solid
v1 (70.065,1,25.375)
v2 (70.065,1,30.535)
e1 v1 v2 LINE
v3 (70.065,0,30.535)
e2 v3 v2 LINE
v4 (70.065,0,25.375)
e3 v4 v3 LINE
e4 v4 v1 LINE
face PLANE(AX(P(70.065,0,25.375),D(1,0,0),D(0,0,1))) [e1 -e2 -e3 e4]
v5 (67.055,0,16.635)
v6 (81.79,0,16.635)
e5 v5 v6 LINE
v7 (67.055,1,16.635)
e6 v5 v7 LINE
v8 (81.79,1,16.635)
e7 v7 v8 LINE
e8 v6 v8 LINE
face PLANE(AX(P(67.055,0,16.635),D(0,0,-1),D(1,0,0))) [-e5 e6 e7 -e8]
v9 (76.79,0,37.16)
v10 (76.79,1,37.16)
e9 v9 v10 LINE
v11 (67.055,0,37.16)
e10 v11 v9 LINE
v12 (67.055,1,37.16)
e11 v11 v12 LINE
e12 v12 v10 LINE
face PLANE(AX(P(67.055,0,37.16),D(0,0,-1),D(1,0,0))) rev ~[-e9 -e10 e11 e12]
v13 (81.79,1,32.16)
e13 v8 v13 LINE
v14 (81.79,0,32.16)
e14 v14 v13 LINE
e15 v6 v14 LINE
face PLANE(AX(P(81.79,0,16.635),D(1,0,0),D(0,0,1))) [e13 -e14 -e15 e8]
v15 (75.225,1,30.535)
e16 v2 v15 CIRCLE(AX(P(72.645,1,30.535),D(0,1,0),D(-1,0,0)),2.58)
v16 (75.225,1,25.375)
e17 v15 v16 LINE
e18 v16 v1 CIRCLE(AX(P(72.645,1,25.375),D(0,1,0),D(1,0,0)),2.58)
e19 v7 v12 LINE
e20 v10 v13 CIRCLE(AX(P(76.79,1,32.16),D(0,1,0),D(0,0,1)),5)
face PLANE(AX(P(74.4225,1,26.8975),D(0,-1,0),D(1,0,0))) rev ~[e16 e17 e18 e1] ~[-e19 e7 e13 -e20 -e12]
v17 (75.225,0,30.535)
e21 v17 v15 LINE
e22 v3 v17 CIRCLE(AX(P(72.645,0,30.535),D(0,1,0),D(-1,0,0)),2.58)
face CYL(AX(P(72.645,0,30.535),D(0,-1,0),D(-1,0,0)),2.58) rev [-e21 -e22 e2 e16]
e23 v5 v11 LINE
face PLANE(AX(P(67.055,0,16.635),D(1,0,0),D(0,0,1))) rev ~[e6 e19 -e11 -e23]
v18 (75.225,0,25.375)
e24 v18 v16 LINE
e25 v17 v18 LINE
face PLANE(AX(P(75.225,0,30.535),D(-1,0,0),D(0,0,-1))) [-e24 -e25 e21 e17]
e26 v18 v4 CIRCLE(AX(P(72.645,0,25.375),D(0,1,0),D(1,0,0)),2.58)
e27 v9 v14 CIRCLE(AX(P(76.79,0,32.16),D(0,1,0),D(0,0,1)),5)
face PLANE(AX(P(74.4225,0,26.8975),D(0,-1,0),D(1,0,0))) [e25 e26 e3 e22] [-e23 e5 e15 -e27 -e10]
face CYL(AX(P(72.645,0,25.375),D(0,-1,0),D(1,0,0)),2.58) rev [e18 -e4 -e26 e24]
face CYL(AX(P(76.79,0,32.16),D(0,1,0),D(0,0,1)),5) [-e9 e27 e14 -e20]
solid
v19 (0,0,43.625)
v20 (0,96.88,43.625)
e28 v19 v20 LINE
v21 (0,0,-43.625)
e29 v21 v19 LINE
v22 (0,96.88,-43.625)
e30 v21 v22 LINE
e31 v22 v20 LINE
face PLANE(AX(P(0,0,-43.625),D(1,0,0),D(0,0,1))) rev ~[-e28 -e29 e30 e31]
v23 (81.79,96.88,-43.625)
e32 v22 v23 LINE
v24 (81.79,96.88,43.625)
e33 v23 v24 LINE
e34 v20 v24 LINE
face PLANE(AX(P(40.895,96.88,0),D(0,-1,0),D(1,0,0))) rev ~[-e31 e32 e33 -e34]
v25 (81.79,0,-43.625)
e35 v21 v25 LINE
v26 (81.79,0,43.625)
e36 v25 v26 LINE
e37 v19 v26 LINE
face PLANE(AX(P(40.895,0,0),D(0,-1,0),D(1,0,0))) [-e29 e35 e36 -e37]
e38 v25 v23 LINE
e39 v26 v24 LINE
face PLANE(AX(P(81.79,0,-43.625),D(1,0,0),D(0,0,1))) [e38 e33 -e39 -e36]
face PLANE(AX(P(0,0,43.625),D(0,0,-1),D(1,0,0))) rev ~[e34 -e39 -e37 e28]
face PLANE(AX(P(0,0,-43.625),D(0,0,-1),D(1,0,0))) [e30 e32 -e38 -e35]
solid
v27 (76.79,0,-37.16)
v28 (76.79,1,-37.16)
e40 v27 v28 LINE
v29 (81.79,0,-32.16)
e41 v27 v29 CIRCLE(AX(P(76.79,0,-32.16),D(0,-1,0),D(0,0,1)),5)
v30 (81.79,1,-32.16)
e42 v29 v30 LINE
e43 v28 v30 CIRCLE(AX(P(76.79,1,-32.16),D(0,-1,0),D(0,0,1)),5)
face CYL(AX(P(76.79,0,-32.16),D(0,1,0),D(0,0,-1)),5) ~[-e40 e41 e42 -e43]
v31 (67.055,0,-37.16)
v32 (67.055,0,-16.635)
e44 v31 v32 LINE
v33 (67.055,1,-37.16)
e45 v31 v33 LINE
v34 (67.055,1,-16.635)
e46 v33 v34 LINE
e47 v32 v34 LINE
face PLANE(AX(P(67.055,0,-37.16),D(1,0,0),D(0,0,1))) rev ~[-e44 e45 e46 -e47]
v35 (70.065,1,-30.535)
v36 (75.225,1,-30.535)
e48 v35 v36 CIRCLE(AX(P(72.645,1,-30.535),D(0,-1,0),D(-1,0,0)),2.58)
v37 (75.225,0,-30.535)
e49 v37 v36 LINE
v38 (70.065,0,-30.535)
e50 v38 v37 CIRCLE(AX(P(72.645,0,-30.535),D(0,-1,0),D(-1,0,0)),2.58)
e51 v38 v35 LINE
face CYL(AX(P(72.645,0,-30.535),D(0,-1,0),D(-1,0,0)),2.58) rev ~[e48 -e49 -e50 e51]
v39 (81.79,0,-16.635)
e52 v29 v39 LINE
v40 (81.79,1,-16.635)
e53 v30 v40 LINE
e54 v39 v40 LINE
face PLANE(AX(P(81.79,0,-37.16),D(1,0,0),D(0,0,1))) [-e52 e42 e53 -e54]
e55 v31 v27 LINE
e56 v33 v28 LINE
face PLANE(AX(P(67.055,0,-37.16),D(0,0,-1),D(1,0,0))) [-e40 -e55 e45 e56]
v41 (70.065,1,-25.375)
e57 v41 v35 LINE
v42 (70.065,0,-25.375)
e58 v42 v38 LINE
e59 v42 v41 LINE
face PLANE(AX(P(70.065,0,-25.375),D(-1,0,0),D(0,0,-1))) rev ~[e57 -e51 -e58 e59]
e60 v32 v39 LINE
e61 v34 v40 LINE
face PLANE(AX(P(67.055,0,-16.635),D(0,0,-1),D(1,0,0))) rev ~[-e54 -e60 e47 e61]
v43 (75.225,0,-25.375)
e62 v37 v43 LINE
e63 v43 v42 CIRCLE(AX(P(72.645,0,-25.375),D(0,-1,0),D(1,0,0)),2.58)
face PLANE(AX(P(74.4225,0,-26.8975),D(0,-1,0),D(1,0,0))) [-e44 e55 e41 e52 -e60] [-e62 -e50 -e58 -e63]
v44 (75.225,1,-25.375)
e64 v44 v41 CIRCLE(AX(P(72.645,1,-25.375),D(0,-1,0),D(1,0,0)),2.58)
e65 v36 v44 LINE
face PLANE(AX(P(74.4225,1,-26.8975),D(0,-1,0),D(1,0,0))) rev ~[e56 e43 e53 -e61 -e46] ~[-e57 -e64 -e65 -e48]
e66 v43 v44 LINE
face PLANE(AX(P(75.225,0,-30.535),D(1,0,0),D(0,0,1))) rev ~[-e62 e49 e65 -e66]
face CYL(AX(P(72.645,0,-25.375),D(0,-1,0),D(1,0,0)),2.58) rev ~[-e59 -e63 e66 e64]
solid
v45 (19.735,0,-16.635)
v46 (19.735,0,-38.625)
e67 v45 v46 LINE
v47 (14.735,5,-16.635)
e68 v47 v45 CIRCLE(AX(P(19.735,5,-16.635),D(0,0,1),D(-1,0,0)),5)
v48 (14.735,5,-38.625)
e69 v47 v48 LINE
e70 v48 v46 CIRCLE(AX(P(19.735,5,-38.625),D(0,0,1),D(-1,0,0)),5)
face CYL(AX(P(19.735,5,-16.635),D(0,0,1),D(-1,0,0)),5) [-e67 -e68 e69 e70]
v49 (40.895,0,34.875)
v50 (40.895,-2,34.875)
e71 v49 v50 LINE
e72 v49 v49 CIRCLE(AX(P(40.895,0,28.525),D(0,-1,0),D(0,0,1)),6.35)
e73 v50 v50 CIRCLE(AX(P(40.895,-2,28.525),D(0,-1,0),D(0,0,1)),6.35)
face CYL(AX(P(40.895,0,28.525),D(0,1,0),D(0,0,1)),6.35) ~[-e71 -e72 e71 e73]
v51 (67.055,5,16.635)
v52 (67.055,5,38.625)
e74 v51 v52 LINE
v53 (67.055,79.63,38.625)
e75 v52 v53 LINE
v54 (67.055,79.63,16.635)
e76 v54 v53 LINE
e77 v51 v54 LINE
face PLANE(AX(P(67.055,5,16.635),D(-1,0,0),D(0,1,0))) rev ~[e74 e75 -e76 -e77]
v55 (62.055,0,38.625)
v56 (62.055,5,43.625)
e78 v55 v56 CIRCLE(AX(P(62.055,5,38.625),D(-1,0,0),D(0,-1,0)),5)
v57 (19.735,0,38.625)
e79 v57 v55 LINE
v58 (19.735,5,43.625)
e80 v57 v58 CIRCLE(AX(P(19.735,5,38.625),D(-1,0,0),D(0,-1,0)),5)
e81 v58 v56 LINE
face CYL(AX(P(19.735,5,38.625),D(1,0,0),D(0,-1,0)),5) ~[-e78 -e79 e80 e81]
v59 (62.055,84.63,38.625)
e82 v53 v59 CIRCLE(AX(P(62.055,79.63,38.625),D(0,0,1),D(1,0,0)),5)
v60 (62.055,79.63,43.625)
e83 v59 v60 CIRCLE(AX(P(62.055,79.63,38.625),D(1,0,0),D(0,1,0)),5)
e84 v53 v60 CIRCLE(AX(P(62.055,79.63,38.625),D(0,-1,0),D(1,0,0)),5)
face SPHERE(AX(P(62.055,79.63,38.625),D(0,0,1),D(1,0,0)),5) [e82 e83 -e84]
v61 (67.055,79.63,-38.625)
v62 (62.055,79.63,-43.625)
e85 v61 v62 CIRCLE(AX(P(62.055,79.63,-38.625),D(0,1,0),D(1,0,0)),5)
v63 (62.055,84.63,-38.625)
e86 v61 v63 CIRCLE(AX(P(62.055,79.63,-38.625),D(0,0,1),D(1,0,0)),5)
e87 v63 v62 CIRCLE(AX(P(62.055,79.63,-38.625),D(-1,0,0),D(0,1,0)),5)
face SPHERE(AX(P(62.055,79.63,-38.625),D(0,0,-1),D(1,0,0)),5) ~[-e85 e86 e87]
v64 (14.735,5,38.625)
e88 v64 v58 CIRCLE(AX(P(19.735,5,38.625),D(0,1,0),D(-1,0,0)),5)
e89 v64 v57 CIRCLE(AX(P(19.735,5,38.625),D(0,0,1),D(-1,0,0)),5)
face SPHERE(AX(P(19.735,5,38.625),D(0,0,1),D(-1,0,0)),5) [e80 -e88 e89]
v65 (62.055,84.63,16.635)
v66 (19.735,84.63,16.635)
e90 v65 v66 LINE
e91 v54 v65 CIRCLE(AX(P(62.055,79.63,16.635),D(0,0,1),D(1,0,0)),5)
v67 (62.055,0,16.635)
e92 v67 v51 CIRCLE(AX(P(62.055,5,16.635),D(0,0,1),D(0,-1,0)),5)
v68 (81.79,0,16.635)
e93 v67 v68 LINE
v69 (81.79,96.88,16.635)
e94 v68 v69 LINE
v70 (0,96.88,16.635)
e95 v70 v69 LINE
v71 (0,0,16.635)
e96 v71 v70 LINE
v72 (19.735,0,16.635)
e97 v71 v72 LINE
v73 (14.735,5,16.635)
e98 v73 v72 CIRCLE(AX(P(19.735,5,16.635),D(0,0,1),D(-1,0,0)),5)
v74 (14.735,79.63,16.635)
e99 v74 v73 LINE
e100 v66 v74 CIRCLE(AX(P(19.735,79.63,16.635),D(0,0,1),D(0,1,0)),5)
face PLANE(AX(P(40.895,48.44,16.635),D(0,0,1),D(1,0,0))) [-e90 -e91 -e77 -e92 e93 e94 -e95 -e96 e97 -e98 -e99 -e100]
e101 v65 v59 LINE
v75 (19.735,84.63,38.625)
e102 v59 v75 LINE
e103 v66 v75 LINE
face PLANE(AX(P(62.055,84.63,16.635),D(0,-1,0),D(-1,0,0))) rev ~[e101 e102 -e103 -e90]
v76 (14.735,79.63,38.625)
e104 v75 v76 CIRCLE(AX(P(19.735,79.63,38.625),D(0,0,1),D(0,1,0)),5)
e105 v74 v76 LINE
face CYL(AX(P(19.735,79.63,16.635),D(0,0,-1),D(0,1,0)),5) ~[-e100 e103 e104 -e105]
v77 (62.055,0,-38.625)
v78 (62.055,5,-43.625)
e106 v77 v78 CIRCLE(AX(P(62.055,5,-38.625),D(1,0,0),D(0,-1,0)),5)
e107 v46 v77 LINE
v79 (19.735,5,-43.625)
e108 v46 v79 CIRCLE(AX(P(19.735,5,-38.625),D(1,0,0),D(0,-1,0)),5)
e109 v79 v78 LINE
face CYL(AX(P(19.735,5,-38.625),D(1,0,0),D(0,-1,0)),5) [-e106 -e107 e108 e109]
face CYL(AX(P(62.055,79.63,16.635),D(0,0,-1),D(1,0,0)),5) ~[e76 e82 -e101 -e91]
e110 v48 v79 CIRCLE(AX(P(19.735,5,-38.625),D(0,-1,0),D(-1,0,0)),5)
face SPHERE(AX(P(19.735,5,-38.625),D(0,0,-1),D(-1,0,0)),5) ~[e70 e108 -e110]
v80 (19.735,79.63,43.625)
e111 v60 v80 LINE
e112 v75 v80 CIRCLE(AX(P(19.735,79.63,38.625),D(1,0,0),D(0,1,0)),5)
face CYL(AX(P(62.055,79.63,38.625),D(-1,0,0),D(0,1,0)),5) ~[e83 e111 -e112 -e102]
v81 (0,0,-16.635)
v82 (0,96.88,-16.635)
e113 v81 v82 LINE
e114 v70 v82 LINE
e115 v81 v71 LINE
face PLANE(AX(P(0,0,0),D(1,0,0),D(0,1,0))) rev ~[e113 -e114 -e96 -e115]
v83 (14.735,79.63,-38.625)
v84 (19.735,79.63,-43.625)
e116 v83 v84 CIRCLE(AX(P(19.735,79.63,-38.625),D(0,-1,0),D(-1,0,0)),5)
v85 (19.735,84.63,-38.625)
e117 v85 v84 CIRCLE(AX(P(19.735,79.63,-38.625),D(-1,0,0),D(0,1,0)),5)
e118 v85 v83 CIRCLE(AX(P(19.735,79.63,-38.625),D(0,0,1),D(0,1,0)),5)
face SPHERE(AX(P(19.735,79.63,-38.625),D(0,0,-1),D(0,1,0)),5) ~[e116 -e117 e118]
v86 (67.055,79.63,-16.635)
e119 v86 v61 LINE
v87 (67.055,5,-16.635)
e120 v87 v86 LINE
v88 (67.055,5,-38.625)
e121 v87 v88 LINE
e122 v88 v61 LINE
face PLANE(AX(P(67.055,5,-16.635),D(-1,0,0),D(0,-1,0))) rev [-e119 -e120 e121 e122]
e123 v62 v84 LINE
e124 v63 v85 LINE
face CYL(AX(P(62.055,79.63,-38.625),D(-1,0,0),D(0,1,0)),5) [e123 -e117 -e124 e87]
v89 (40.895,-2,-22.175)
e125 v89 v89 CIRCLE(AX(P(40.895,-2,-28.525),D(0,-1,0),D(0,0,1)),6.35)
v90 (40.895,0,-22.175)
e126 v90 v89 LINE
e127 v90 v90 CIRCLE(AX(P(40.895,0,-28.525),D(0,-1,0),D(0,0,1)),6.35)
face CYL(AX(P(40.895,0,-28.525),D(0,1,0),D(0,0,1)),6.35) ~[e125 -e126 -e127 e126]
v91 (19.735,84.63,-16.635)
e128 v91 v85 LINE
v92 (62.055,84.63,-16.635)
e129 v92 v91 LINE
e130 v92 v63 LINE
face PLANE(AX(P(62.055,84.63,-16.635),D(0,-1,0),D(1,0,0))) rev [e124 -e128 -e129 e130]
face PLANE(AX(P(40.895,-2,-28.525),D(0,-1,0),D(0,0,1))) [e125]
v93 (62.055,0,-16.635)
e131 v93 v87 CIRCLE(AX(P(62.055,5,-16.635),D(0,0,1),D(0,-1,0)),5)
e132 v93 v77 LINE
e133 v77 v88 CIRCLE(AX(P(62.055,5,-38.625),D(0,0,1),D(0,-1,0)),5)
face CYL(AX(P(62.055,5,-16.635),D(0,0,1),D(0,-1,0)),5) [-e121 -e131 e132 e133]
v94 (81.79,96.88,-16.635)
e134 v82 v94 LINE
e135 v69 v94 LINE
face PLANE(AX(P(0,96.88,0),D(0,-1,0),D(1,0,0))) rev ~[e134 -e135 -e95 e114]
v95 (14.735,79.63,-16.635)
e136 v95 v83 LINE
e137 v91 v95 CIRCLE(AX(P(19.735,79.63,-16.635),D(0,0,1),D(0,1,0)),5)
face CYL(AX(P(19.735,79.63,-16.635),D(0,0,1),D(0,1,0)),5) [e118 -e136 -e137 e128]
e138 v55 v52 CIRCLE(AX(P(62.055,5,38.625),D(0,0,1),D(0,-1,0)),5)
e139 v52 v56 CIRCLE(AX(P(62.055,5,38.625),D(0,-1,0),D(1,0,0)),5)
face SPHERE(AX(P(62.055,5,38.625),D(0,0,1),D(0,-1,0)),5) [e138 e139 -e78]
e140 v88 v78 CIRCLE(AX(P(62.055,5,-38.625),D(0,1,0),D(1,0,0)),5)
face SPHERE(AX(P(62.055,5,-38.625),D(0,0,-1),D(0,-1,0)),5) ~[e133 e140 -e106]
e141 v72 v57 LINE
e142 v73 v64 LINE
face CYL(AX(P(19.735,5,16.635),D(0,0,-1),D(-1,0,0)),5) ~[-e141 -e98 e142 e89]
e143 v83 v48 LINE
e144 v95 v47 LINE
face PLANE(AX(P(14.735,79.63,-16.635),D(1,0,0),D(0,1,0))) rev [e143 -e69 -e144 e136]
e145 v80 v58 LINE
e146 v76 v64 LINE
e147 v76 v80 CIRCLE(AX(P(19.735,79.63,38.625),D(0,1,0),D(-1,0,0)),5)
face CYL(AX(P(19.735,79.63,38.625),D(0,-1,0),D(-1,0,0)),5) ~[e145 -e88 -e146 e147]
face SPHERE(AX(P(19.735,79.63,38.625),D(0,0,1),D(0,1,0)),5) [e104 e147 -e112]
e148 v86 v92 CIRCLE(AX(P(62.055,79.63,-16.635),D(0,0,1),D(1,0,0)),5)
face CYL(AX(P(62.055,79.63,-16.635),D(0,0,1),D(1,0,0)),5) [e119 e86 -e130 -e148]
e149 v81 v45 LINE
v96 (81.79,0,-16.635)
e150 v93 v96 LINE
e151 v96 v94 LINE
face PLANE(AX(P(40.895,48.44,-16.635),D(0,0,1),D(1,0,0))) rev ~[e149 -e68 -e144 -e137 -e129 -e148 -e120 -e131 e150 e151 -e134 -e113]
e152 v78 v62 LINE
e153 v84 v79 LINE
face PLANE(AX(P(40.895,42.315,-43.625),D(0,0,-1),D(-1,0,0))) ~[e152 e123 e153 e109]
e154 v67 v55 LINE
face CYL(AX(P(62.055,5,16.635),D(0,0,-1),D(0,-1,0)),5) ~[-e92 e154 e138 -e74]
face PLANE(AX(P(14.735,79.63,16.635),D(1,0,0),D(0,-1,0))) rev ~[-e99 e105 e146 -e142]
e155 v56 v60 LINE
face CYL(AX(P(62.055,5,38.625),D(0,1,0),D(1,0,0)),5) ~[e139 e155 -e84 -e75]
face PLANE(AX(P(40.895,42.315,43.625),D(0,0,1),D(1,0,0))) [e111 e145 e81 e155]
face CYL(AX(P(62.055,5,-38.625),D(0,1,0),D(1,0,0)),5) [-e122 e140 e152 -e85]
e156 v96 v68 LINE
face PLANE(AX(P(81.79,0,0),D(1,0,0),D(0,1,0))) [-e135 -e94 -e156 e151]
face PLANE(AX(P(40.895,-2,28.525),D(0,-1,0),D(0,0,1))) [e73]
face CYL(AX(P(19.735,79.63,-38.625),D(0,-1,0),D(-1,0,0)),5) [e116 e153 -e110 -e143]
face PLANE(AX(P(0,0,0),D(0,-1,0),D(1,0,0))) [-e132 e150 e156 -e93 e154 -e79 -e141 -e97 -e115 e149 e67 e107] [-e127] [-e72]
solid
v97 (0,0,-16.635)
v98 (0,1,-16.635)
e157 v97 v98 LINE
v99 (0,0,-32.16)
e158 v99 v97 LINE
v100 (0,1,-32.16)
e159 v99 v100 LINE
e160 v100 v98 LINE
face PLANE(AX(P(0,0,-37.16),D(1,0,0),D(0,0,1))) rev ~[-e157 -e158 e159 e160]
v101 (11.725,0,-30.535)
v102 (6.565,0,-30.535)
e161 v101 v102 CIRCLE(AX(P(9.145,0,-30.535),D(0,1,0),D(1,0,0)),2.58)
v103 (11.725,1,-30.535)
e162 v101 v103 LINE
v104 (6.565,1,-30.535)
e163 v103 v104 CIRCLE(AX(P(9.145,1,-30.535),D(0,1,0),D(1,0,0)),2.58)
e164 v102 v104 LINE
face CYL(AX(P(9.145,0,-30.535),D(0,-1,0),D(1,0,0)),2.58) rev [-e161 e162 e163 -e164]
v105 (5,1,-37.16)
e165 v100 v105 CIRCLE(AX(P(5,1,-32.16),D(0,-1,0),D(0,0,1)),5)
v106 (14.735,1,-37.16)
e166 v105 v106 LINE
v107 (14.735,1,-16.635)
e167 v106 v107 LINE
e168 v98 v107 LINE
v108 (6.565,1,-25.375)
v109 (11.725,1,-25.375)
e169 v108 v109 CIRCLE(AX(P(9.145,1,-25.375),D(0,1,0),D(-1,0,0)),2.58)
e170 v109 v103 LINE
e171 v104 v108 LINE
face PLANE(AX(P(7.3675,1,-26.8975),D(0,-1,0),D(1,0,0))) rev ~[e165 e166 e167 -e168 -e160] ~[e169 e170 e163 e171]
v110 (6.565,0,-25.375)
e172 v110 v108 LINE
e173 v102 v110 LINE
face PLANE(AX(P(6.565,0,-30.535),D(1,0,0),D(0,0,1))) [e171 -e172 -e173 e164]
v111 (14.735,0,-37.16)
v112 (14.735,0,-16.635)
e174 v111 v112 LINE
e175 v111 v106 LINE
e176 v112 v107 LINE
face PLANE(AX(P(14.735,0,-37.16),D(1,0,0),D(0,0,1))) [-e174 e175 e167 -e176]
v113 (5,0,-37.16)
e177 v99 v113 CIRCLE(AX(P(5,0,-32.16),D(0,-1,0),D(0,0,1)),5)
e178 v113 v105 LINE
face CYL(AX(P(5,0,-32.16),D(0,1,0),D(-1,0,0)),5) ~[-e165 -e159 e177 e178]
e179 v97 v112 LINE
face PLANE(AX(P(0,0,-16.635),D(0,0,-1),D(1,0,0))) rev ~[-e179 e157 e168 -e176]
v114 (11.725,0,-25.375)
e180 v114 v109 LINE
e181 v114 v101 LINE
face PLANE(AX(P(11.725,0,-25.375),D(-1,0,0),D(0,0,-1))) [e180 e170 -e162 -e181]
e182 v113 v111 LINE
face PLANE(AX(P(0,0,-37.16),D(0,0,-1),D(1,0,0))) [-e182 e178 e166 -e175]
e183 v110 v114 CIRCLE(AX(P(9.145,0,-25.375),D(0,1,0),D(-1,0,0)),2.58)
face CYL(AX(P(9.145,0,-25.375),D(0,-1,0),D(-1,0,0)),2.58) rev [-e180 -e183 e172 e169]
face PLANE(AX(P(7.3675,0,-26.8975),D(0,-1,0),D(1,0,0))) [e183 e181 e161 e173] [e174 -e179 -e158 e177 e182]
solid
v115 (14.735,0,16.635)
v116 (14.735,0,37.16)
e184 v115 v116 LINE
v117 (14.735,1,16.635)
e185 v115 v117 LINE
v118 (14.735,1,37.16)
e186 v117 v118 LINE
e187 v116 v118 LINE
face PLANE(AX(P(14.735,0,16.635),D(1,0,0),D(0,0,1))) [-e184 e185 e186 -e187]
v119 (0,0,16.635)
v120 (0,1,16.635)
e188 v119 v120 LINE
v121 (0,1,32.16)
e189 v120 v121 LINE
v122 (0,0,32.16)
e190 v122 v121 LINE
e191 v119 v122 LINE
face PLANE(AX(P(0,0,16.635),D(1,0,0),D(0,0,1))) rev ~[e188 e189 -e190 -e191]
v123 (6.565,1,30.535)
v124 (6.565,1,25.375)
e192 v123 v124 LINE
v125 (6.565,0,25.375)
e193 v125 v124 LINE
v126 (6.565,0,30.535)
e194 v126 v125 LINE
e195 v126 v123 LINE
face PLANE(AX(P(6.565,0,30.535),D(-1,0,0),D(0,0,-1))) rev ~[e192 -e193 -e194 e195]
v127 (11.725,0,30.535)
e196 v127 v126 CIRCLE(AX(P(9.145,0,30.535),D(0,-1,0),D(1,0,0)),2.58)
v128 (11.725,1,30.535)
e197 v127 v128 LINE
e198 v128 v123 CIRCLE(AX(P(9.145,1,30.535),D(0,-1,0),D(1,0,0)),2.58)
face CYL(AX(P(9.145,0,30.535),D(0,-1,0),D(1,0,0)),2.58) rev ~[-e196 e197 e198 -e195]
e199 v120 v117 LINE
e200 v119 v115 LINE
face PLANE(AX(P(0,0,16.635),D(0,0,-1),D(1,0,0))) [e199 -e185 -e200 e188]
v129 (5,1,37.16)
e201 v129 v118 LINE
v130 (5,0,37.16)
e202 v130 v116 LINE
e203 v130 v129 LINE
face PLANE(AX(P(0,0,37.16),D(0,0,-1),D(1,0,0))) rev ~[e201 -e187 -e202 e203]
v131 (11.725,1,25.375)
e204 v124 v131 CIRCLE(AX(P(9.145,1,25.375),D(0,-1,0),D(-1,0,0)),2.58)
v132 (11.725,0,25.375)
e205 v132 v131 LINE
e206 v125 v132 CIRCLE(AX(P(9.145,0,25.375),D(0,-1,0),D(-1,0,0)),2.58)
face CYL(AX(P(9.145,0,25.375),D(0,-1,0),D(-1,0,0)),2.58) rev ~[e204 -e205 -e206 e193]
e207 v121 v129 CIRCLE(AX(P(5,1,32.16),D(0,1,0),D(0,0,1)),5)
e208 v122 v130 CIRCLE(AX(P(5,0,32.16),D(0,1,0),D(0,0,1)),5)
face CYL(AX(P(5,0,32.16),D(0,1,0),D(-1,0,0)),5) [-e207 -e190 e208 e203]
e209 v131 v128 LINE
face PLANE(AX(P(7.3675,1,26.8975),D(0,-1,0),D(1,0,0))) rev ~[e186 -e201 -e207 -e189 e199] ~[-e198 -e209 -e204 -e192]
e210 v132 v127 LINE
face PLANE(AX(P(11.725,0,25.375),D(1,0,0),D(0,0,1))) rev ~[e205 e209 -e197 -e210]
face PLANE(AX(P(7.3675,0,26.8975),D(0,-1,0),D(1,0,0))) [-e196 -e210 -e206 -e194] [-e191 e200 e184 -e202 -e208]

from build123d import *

# Parameters (mm, degrees)
SKETCH1_W             = 81.79
SKETCH1_H             = 96.88
BOSS_EXTRUDE1_DEPTH   = 16.635
BOSS_EXTRUDE2_DEPTH   = 26.99
FILLET1_R             = 5
FILLET1_OF_MIRROR1_R  = 5
SKETCH3_W             = 14.735
SKETCH3_H             = 20.525
BOSS_EXTRUDE3_DEPTH   = 1
BOSS_EXTRUDE3_2_DEPTH = 1
BOSS_EXTRUDE3_3_DEPTH = 1
BOSS_EXTRUDE3_4_DEPTH = 1
FILLET2_R             = 5
FILLET3_R             = 5
FILLET4_R             = 5
FILLET5_R             = 5
SKETCH4_W             = 81.79
SKETCH4_H             = 87.25
BOSS_EXTRUDE4_DEPTH   = 96.88
SKETCH6_R             = 6.35
BOSS_EXTRUDE5_DEPTH   = 2


with BuildPart() as part:
    # Sketch1 → Boss-Extrude1 (new, symmetric)
    with BuildSketch(Plane.XY):
        with Locations((40.895, 48.44)):
            Rectangle(SKETCH1_W, SKETCH1_H)
    extrude(amount=BOSS_EXTRUDE1_DEPTH, both=True)

    # Sketch2 → Boss-Extrude2 (add)
    with BuildSketch(Plane.XY.offset(16.635)):
        with BuildLine():
            Line((19.735, 0), (62.055, 0))
            ThreePointArc((62.055, 0), (65.590533906, 1.464466094), (67.055, 5))
            Line((67.055, 5), (67.055, 79.63))
            ThreePointArc((67.055, 79.63), (65.590533906, 83.165533906), (62.055, 84.63))
            Line((62.055, 84.63), (19.735, 84.63))
            ThreePointArc((19.735, 84.63), (16.199466094, 83.165533906), (14.735, 79.63))
            Line((14.735, 79.63), (14.735, 5))
            ThreePointArc((14.735, 5), (16.199466094, 1.464466094), (19.735, 0))
        make_face()
    boss_extrude2 = extrude(amount=BOSS_EXTRUDE2_DEPTH)

    # Fillet1
    fillet1_edges = [part.edges().sort_by_distance(p)[0] for p in [
        (65.590533906, 1.464466094, 43.625),
        (67.055, 42.315, 43.625),
        (65.590533906, 83.165533906, 43.625),
        (40.895, 84.63, 43.625),
        (16.199466094, 83.165533906, 43.625),
        (14.735, 42.315, 43.625),
        (16.199466094, 1.464466094, 43.625),
        (40.895, 0, 43.625),
    ]]
    fillet(fillet1_edges, radius=FILLET1_R)

    # Mirror1: Boss-Extrude2 across plane
    add(boss_extrude2.mirror(Plane.XY))

    # Fillet1 of Mirror1
    fillet1_of_mirror1_edges = [part.edges().sort_by_distance(p)[0] for p in [
        (65.590533906, 1.464466094, -43.625),
        (67.055, 42.315, -43.625),
        (65.590533906, 83.165533906, -43.625),
        (40.895, 84.63, -43.625),
        (16.199466094, 83.165533906, -43.625),
        (14.735, 42.315, -43.625),
        (16.199466094, 1.464466094, -43.625),
        (40.895, 0, -43.625),
    ]]
    fillet(fillet1_of_mirror1_edges, radius=FILLET1_OF_MIRROR1_R)

    # Sketch6 → Boss-Extrude5 (add)
    with BuildSketch(Plane.XZ):
        with Locations(Location((40.895, 28.525, 0), (0, 0, 90))):
            Circle(SKETCH6_R)
        with Locations(Location((40.895, -28.525, 0), (0, 0, 90))):
            Circle(SKETCH6_R)
    extrude(amount=BOSS_EXTRUDE5_DEPTH)


with BuildPart() as body_2:
    # Sketch3 → Boss-Extrude3 (new body)
    with BuildSketch(Plane.XZ):
        with Locations((7.3675, 26.8975)):
            Rectangle(SKETCH3_W, SKETCH3_H)
        with BuildLine():
            Line((6.565, 30.535), (6.565, 25.375))
            ThreePointArc((6.565, 25.375), (9.145, 22.795), (11.725, 25.375))
            Line((11.725, 25.375), (11.725, 30.535))
            ThreePointArc((11.725, 30.535), (9.145, 33.115), (6.565, 30.535))
        make_face(mode=Mode.SUBTRACT)
    extrude(amount=-BOSS_EXTRUDE3_DEPTH)

    # Fillet4
    fillet4_edges = [body_2.edges().sort_by_distance(p)[0] for p in [
        (0, 0.5, 37.16),
    ]]
    fillet(fillet4_edges, radius=FILLET4_R)


with BuildPart() as body_3:
    # Sketch3 → Boss-Extrude3 2 (new body)
    with BuildSketch(Plane.XZ):
        with Locations((7.3675, -26.8975)):
            Rectangle(SKETCH3_W, SKETCH3_H)
        with BuildLine():
            Line((6.565, -30.535), (6.565, -25.375))
            ThreePointArc((6.565, -25.375), (9.145, -22.795), (11.725, -25.375))
            Line((11.725, -25.375), (11.725, -30.535))
            ThreePointArc((11.725, -30.535), (9.145, -33.115), (6.565, -30.535))
        make_face(mode=Mode.SUBTRACT)
    extrude(amount=-BOSS_EXTRUDE3_2_DEPTH)

    # Fillet5
    fillet5_edges = [body_3.edges().sort_by_distance(p)[0] for p in [
        (0, 0.5, -37.16),
    ]]
    fillet(fillet5_edges, radius=FILLET5_R)


with BuildPart() as body_4:
    # Sketch3 → Boss-Extrude3 3 (new body)
    with BuildSketch(Plane.XZ):
        with Locations((74.4225, -26.8975)):
            Rectangle(SKETCH3_W, SKETCH3_H)
        with BuildLine():
            Line((70.065, -25.375), (70.065, -30.535))
            ThreePointArc((70.065, -30.535), (72.645, -33.115), (75.225, -30.535))
            Line((75.225, -30.535), (75.225, -25.375))
            ThreePointArc((75.225, -25.375), (72.645, -22.795), (70.065, -25.375))
        make_face(mode=Mode.SUBTRACT)
    extrude(amount=-BOSS_EXTRUDE3_3_DEPTH)

    # Fillet3
    fillet3_edges = [body_4.edges().sort_by_distance(p)[0] for p in [
        (81.79, 0.5, -37.16),
    ]]
    fillet(fillet3_edges, radius=FILLET3_R)


with BuildPart() as body_5:
    # Sketch3 → Boss-Extrude3 4 (new body)
    with BuildSketch(Plane.XZ):
        with Locations((74.4225, 26.8975)):
            Rectangle(SKETCH3_W, SKETCH3_H)
        with BuildLine():
            Line((70.065, 25.375), (70.065, 30.535))
            ThreePointArc((70.065, 30.535), (72.645, 33.115), (75.225, 30.535))
            Line((75.225, 30.535), (75.225, 25.375))
            ThreePointArc((75.225, 25.375), (72.645, 22.795), (70.065, 25.375))
        make_face(mode=Mode.SUBTRACT)
    extrude(amount=-BOSS_EXTRUDE3_4_DEPTH)

    # Fillet2
    fillet2_edges = [body_5.edges().sort_by_distance(p)[0] for p in [
        (81.79, 0.5, 37.16),
    ]]
    fillet(fillet2_edges, radius=FILLET2_R)


with BuildPart() as body_6:
    # Sketch4 → Boss-Extrude4 (new body)
    with BuildSketch(Plane.XZ):
        with Locations((40.895, 0)):
            Rectangle(SKETCH4_W, SKETCH4_H)
    extrude(amount=-BOSS_EXTRUDE4_DEPTH)


solid = Compound([part.part, body_2.part, body_3.part, body_4.part, body_5.part, body_6.part])
